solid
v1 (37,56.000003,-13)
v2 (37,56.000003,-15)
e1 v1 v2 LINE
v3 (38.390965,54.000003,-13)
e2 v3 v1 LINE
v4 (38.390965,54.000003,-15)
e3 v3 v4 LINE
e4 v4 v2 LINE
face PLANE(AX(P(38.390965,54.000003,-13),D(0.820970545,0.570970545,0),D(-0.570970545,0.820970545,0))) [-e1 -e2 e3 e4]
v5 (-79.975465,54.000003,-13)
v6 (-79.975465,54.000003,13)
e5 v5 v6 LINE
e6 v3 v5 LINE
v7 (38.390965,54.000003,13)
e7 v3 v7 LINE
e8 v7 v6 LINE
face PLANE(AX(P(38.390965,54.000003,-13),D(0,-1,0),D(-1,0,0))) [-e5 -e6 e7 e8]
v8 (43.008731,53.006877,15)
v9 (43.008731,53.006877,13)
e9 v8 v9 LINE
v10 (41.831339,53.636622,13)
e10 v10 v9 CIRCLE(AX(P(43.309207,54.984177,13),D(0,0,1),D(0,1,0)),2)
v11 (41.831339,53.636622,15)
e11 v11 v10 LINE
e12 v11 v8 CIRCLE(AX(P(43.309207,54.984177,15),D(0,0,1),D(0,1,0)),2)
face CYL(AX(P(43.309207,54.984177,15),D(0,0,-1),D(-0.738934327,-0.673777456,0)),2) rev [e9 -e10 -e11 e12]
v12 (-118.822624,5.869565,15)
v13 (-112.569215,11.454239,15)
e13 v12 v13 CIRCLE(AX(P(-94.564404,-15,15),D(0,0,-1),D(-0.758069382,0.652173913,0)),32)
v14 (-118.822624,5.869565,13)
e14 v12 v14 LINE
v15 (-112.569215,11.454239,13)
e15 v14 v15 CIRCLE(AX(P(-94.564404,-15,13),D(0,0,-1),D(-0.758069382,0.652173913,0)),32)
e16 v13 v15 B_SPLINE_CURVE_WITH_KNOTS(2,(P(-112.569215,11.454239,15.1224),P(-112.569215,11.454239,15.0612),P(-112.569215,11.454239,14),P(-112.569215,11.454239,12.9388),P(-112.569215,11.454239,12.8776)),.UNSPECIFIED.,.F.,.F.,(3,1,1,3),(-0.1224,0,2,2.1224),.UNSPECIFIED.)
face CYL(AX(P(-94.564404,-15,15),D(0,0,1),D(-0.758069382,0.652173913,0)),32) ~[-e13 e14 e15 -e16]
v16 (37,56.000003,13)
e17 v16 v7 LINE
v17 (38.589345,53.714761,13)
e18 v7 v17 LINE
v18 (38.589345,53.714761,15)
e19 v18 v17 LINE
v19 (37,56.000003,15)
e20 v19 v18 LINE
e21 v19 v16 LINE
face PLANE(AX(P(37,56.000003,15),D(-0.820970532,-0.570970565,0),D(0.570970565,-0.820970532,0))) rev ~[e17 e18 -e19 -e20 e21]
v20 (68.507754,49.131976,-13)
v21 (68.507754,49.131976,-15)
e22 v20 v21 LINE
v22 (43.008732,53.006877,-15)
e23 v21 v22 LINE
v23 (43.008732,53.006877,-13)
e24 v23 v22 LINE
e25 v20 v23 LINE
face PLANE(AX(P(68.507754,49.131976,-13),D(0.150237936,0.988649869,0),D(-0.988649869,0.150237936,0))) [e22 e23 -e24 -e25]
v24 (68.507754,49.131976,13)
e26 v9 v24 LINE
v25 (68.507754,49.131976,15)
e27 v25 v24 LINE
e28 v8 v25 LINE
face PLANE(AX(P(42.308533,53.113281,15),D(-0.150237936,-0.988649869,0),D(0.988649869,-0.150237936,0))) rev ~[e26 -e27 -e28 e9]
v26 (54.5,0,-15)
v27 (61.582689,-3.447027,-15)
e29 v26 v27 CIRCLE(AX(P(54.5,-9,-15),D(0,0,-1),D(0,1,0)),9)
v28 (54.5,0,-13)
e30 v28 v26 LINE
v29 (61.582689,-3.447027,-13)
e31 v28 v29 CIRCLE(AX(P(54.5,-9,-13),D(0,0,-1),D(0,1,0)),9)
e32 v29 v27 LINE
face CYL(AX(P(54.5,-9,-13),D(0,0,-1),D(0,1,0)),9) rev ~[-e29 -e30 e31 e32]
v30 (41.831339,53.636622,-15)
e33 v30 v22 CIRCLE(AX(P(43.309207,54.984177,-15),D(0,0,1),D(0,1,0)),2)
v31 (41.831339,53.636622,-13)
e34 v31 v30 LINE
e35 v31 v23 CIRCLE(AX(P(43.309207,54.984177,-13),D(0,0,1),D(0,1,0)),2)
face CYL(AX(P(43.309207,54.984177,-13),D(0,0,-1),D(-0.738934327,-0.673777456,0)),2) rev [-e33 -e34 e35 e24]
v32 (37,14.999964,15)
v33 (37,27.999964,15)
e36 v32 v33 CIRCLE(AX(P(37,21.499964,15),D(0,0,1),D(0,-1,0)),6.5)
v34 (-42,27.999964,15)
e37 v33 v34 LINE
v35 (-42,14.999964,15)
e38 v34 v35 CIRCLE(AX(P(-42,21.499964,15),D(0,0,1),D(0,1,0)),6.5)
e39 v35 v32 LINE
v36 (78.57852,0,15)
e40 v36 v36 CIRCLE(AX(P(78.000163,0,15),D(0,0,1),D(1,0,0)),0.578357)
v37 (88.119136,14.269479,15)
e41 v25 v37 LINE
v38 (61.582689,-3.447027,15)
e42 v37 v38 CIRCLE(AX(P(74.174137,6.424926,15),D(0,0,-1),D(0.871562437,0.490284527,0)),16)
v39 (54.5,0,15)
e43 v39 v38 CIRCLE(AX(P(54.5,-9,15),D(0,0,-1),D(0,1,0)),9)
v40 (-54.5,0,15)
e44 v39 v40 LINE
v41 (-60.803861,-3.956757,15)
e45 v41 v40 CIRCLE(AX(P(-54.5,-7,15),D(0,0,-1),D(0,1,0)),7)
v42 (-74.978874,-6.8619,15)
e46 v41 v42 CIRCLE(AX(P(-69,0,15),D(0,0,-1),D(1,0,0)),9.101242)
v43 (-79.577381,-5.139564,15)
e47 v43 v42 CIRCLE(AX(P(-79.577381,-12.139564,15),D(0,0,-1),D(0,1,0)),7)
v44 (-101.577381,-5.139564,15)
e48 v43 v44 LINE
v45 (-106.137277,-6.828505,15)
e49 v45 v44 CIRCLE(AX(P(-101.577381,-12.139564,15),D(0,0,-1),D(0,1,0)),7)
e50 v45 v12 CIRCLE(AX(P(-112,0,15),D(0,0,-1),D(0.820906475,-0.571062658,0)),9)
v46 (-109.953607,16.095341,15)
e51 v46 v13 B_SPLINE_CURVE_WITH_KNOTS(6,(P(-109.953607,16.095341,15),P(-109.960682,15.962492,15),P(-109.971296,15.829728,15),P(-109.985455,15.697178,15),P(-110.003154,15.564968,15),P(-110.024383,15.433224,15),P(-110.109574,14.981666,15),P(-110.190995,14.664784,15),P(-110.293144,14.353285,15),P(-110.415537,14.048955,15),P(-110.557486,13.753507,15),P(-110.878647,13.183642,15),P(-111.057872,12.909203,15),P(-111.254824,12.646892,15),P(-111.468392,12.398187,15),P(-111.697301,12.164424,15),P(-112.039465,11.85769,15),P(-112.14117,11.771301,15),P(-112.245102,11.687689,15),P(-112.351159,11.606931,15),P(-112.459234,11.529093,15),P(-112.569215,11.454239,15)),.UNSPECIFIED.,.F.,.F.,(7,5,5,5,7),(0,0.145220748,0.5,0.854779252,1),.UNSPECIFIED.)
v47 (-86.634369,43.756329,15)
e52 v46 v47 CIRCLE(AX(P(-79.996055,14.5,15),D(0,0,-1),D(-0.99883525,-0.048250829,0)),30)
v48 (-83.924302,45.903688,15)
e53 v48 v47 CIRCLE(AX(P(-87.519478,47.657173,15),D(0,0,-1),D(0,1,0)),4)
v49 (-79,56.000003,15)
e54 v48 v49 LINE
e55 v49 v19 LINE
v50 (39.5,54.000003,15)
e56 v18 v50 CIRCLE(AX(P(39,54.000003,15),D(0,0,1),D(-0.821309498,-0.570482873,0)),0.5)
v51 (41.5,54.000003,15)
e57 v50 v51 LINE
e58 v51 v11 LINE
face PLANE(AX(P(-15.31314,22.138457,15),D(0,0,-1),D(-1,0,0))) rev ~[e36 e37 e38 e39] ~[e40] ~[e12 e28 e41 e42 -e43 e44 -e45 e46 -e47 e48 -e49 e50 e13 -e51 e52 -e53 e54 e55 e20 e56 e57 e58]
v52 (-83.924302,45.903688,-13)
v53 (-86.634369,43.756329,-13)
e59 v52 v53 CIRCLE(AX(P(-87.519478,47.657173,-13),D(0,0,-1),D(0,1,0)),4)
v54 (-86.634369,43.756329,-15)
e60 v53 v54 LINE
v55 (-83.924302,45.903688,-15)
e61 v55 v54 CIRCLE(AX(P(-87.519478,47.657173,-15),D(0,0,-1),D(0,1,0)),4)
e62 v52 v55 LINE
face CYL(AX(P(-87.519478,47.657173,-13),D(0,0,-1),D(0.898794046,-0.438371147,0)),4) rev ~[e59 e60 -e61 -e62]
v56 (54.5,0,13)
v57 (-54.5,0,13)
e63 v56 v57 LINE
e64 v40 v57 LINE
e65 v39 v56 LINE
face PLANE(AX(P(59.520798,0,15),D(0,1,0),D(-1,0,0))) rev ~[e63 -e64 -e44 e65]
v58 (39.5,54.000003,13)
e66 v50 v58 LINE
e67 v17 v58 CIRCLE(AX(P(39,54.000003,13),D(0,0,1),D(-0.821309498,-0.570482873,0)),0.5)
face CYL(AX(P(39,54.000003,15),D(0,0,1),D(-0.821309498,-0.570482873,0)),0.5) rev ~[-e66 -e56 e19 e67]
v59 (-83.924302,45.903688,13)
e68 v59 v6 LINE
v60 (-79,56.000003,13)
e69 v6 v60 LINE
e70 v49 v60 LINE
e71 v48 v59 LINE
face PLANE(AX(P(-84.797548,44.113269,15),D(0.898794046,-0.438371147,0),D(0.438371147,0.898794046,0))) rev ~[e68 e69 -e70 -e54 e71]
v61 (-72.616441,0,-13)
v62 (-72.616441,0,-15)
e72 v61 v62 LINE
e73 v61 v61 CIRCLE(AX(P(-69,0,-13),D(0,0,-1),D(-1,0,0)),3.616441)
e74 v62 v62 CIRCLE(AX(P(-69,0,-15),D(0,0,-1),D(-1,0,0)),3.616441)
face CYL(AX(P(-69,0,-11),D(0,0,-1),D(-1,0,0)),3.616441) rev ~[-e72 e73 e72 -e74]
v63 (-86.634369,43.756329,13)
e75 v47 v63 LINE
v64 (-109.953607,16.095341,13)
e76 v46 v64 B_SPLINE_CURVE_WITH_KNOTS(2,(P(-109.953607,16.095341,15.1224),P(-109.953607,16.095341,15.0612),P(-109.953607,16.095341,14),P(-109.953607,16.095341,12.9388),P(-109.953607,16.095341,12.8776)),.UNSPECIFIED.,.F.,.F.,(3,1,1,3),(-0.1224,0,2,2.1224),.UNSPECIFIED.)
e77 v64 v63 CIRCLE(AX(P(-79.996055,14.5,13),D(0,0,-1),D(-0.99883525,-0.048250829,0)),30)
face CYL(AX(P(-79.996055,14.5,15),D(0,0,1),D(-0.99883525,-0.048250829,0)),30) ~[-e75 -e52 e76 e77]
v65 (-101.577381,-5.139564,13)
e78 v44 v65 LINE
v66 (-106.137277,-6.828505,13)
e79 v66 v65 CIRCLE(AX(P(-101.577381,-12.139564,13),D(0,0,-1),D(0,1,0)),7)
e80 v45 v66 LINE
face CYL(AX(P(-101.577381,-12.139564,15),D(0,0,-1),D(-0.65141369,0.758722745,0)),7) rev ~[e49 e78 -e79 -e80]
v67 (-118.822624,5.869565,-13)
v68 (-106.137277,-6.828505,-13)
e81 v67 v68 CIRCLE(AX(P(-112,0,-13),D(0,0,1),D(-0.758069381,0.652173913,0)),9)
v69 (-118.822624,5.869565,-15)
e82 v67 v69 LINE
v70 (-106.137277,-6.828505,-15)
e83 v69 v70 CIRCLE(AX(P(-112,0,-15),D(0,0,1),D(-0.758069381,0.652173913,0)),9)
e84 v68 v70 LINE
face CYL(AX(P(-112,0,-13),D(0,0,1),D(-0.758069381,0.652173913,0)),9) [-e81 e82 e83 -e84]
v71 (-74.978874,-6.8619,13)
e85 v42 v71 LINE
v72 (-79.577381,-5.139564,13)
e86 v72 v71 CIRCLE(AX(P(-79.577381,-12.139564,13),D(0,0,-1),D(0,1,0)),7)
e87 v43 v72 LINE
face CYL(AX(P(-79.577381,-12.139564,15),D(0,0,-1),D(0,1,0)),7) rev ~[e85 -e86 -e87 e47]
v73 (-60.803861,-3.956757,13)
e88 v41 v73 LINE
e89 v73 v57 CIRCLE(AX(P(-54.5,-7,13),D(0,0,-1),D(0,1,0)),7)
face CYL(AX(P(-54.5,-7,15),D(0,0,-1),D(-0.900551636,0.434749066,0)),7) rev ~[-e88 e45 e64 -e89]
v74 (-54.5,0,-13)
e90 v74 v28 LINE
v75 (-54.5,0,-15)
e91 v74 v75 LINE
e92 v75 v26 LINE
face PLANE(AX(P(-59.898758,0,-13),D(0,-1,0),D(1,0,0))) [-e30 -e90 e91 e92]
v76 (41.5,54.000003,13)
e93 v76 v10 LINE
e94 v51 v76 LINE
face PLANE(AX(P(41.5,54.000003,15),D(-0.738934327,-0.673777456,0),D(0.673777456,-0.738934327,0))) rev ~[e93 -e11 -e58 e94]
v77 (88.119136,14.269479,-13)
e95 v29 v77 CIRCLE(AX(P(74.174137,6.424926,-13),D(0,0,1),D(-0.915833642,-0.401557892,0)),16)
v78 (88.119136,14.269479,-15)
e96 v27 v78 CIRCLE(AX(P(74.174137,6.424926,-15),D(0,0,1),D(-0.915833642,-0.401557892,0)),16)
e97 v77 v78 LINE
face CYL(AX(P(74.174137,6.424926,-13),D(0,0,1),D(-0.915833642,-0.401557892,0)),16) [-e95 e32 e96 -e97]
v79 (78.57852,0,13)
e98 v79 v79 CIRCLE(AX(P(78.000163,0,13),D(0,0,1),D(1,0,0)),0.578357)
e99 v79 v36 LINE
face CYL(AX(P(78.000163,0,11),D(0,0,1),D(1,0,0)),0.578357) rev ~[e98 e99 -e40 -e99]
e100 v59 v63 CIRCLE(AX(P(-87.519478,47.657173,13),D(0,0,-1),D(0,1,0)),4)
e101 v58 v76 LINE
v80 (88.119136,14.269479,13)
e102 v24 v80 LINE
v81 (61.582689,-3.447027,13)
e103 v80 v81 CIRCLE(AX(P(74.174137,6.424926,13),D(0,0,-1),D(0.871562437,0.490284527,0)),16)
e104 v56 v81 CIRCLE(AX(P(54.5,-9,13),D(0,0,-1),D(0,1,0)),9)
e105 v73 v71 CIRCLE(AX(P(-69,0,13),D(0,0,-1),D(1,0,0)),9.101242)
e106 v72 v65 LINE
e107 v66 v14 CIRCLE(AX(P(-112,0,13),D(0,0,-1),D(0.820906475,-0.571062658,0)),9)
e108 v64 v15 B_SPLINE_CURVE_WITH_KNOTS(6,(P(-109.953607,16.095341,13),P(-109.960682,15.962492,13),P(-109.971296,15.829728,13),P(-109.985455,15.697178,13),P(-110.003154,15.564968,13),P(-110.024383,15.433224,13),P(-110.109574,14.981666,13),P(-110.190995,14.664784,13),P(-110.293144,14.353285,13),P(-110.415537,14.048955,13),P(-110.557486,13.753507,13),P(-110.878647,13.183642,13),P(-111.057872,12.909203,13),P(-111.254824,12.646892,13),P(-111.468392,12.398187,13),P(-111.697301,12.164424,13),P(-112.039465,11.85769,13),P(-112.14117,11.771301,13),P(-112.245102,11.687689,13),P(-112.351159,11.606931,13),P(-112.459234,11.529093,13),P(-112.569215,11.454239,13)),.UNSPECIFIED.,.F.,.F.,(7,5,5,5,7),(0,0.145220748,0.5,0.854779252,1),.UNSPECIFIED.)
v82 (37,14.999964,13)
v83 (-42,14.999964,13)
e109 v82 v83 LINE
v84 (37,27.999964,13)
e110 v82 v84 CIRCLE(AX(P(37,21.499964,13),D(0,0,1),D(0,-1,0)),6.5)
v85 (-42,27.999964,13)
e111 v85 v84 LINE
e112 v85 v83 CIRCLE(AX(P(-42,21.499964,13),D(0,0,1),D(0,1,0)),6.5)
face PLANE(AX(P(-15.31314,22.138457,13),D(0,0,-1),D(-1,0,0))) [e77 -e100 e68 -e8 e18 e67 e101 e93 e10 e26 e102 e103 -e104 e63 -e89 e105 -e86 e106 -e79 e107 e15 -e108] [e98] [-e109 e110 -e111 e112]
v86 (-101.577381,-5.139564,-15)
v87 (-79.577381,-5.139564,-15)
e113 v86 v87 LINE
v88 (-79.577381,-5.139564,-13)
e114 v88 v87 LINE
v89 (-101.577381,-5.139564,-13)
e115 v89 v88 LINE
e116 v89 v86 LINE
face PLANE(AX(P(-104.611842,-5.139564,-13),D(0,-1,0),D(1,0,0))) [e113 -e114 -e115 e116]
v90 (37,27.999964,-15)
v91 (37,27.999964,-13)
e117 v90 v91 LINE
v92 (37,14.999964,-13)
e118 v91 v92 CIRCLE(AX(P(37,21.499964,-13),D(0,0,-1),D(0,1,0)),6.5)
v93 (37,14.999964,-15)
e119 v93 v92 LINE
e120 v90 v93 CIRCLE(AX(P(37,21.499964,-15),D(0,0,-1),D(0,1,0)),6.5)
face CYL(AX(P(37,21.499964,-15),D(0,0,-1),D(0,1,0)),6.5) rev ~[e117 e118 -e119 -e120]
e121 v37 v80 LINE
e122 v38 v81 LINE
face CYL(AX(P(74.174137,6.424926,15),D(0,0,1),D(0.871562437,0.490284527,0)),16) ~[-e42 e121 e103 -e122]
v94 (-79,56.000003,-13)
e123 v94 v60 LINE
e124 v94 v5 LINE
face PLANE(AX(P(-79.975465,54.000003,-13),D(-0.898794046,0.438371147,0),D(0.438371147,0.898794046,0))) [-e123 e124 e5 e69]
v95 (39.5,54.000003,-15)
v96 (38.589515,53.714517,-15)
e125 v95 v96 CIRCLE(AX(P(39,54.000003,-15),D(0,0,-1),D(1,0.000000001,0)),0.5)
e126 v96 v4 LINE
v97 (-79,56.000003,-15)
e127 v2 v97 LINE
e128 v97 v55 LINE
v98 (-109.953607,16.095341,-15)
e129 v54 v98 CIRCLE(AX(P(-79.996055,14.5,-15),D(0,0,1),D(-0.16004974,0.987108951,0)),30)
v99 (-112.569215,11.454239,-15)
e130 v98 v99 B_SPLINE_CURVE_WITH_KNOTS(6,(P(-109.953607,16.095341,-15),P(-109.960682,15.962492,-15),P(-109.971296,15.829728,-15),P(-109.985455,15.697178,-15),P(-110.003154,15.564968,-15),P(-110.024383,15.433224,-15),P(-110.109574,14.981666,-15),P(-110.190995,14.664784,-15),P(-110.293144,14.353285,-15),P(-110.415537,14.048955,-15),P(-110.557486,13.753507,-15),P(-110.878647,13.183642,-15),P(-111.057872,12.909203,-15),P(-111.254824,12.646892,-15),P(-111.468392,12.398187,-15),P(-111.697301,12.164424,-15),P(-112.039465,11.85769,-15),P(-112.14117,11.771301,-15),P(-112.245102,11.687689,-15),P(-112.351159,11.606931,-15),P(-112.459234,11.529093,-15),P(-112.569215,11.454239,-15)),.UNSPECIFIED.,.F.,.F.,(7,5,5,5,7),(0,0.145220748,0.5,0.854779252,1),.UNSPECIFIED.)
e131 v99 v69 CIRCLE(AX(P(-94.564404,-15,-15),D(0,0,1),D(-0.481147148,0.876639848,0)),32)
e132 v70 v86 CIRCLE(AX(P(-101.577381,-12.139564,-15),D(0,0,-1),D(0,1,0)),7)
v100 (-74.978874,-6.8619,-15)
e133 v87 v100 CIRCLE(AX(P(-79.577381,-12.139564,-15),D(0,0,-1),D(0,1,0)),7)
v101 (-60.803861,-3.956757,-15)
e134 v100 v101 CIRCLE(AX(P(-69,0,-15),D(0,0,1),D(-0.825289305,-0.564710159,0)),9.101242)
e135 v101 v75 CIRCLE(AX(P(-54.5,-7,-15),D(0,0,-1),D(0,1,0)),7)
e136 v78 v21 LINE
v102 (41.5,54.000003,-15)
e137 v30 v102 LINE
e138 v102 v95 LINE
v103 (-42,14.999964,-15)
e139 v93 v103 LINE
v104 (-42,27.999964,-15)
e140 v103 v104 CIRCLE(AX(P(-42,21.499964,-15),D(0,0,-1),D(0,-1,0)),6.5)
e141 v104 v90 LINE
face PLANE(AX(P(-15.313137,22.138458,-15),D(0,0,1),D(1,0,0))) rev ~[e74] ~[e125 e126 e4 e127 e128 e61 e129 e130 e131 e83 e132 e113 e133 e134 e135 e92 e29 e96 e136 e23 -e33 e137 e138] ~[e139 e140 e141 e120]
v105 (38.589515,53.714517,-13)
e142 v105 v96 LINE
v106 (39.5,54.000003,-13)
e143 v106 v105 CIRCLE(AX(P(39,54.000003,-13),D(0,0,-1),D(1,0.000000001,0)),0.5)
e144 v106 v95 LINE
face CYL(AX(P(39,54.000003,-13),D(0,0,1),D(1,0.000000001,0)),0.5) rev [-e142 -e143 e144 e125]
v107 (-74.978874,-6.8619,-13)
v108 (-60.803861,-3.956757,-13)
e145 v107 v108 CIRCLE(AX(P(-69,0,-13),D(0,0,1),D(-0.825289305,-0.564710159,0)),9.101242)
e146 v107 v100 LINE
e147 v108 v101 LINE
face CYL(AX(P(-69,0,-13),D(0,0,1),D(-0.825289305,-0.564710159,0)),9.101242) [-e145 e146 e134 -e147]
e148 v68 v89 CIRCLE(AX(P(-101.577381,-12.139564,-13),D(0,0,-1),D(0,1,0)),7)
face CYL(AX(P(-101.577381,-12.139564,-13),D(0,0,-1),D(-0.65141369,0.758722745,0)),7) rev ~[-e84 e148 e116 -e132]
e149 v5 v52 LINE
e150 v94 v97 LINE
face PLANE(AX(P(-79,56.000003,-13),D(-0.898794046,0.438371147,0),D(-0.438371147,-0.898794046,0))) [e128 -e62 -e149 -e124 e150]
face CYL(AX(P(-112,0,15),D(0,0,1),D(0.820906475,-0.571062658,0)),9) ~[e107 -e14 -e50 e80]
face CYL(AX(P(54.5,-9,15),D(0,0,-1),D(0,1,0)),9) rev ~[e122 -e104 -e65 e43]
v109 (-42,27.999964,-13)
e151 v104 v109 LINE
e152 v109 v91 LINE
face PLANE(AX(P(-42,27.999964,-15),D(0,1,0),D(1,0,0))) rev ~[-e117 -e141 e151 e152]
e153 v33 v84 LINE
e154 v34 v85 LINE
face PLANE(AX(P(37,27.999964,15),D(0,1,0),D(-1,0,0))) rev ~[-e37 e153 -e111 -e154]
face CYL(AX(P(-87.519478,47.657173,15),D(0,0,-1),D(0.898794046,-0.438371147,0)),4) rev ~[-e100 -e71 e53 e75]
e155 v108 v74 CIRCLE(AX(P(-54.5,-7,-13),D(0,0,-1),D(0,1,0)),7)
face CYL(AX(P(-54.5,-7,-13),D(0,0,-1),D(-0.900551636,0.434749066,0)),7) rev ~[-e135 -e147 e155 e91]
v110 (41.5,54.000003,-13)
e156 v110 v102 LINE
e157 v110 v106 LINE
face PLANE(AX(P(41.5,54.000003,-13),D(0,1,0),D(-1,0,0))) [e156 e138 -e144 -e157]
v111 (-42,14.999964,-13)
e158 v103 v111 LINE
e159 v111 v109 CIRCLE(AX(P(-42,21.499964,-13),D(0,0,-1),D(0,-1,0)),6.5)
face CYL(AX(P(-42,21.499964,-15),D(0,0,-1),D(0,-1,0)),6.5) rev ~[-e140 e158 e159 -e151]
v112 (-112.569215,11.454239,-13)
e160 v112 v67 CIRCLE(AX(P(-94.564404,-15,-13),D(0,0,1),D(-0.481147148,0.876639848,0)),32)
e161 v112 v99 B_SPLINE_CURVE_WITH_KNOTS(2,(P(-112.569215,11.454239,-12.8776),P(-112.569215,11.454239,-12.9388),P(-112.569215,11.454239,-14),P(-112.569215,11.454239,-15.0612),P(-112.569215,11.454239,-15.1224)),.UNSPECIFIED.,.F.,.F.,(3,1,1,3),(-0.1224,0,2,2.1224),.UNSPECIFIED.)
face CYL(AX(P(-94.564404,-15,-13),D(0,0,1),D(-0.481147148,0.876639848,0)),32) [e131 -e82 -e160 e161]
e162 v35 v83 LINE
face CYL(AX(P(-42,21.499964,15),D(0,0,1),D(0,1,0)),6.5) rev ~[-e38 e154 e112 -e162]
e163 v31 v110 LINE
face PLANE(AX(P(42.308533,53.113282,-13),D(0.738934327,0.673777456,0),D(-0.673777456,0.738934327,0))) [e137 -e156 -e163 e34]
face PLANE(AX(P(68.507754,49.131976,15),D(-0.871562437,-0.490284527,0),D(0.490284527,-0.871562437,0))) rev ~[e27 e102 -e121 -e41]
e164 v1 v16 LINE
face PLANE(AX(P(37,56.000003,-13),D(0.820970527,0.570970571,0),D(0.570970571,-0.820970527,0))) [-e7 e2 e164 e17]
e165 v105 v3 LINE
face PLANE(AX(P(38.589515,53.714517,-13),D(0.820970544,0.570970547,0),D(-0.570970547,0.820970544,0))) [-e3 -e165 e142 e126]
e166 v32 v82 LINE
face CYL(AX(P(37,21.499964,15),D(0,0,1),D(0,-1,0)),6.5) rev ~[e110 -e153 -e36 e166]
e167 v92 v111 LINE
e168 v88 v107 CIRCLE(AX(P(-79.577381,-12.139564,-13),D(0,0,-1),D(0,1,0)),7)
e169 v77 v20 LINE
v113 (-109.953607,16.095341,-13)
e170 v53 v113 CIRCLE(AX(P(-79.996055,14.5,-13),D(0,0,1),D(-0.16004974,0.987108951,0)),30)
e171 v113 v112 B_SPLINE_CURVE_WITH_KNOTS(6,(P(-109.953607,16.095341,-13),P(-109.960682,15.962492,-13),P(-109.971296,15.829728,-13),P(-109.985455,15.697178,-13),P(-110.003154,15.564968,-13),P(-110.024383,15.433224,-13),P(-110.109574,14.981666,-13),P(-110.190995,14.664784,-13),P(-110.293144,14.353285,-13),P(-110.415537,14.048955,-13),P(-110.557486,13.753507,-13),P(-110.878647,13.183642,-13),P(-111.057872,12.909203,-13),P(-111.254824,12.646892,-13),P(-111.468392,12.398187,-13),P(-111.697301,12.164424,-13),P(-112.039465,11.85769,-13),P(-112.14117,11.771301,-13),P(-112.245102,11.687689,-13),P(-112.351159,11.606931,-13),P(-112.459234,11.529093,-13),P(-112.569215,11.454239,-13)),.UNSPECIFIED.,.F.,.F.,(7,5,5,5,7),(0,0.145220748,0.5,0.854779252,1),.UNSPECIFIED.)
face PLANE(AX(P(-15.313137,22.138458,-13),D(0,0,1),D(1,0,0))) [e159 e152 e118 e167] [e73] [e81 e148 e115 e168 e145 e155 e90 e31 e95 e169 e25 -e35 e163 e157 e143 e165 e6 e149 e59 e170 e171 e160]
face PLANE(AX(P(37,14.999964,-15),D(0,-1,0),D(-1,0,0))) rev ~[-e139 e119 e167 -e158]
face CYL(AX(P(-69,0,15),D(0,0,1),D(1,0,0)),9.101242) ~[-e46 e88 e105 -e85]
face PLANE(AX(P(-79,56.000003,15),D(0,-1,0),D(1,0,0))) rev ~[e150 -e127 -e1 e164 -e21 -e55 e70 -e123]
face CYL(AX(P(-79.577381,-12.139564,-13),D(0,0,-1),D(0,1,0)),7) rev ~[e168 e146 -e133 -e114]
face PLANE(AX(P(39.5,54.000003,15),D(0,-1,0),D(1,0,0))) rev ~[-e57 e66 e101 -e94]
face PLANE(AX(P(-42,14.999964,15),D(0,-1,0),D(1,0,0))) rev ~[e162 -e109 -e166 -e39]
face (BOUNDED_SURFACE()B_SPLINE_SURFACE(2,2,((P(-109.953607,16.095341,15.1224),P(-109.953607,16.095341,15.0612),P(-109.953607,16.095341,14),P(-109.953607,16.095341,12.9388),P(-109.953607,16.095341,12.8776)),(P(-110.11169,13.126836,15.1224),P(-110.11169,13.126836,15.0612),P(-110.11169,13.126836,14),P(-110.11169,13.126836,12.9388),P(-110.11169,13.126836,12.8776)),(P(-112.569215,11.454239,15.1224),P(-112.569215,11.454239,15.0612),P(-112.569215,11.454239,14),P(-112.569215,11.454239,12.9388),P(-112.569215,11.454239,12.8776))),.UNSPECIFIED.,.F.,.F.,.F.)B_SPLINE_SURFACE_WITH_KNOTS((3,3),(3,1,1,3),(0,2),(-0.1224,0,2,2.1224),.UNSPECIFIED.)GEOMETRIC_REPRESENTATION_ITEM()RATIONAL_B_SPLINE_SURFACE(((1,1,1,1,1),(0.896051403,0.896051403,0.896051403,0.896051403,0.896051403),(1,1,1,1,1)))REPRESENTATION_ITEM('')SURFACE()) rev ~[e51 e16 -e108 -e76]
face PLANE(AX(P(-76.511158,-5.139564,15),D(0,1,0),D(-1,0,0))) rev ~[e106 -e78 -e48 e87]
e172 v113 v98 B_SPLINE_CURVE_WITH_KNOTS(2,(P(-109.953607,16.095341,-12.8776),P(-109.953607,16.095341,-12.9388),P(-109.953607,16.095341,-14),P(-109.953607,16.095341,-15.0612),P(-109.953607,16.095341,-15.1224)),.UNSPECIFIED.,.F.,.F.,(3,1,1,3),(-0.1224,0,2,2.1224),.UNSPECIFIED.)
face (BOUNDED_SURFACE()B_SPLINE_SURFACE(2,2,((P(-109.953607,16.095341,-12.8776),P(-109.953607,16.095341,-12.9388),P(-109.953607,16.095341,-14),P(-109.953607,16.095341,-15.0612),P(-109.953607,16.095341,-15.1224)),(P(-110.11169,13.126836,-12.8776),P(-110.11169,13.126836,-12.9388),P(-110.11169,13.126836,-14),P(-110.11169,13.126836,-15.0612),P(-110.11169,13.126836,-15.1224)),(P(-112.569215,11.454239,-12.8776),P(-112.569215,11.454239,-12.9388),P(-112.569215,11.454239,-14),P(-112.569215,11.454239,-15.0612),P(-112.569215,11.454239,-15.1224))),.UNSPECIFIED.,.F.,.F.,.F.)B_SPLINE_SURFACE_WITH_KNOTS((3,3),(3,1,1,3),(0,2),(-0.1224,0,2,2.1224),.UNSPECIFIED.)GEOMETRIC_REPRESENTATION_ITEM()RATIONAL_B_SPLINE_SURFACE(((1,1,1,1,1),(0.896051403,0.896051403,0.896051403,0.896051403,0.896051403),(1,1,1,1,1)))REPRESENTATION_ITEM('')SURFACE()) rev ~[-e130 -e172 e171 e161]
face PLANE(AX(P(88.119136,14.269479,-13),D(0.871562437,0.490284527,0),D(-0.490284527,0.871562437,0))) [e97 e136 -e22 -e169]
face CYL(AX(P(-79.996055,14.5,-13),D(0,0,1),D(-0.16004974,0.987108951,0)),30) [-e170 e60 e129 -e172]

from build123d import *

# Parameters (mm, degrees)
BOSS_EXTRUDE1_DEPTH = 2
BOSS_EXTRUDE2_DEPTH = 26
BOSS_EXTRUDE3_START = 2
BOSS_EXTRUDE3_DEPTH = 2
CUT_EXTRUDE1_REACH  = 138.664
CUT_EXTRUDE2_DEPTH  = 137.663822213
HOLE1_D             = 1.156713631
HOLE1_DEPTH         = 2
HOLE2_D             = 7.232882037
HOLE2_DEPTH         = 2
FILLET1_R           = 2
FILLET2_R           = 4
FILLET3_R           = 6
FILLET4_R           = 7
FILLET5_R           = 9


with BuildPart() as part:
    # Sketch1 → Boss-Extrude1 (new body)
    with BuildSketch(Plane.XY.offset(-13)):
        with BuildLine():
            Line((38.589514728, 53.714517423), (38.390964743, 54.000002708))
            Line((38.390964743, 54.000002708), (37, 56.000002696))
            Line((37, 56.000002696), (-79, 56.000002696))
            Line((-79, 56.000002696), (-84.797547627, 44.113268525))
            ThreePointArc((-84.797547627, 44.113268525), (-103.30638504, 33.384611029), (-109.961112948, 13.052475123))
            ThreePointArc((-109.961112948, 13.052475123), (-114.714513302, 9.85906483), (-118.822624433, 5.869565217))
            ThreePointArc((-118.822624433, 5.869565217), (-117.511822587, -7.114760135), (-104.611841725, -5.139563921))
            Line((-104.611841725, -5.139563921), (-76.511157838, -5.139563921))
            ThreePointArc((-76.511157838, -5.139563921), (-66.310042494, -8.694638462), (-59.898757812, 0))
            Line((-59.898757812, 0), (59.520798297, 0))
            ThreePointArc((59.520798297, 0), (81.317661031, -7.891849144), (88.119135563, 14.269478708))
            Line((88.119135563, 14.269478708), (68.507754464, 49.131976199))
            Line((68.507754464, 49.131976199), (42.308532947, 53.113281503))
            Line((42.308532947, 53.113281503), (41.5, 54.000002696))
            Line((41.5, 54.000002696), (39.5, 54.000002696))
            ThreePointArc((39.5, 54.000002696), (39.14959506, 53.522905936), (38.589514728, 53.714517423))
        make_face()
    extrude(amount=-BOSS_EXTRUDE1_DEPTH)

    # Sketch2 → Boss-Extrude2 (add)
    with BuildSketch(Plane.XY.offset(-13)):
        Polygon((37, 56.000002696), (38.390964806, 54.000002752), (-79.97546515, 54.000002752), (-79, 56.000002696), align=None)
    extrude(amount=BOSS_EXTRUDE2_DEPTH)

    # Sketch3 → Boss-Extrude3 (add)
    with BuildSketch(Plane.XY.offset(13).offset(BOSS_EXTRUDE3_START)):
        with BuildLine():
            Line((39.500000002, 54.000002689), (41.499999991, 54.000002689))
            Line((41.499999991, 54.000002689), (42.308532938, 53.113281497))
            Line((42.308532938, 53.113281497), (68.507754455, 49.131976193))
            Line((68.507754455, 49.131976193), (88.119135607, 14.269478608))
            ThreePointArc((88.119135607, 14.269478608), (81.317661026, -7.891849269), (59.520798297, 0))
            Line((59.520798297, 0), (-59.898757812, 0))
            ThreePointArc((-59.898757812, 0), (-66.310042494, -8.694638462), (-76.511157838, -5.139563921))
            Line((-76.511157838, -5.139563921), (-104.611841725, -5.139563921))
            ThreePointArc((-104.611841725, -5.139563921), (-117.511822587, -7.114760135), (-118.822624433, 5.869565217))
            ThreePointArc((-118.822624433, 5.869565217), (-114.714513302, 9.85906483), (-109.961112948, 13.052475123))
            ThreePointArc((-109.961112948, 13.052475123), (-103.30638504, 33.384611029), (-84.797547627, 44.113268525))
            Line((-84.797547627, 44.113268525), (-79, 56.000002696))
            Line((-79, 56.000002696), (37, 56.000002696))
            Line((37, 56.000002696), (38.589345234, 53.714761246))
            ThreePointArc((38.589345234, 53.714761246), (39.149453375, 53.522861518), (39.500000002, 54.000002689))
        make_face()
    extrude(amount=-BOSS_EXTRUDE3_DEPTH)

    # Sketch4 → Cut-Extrude1 (cut, up to next)
    with BuildSketch(Plane(origin=(0, 0, -15), x_dir=(-1, 0, 0), z_dir=(0, 0, -1)), mode=Mode.PRIVATE) as cut_extrude1_sk1:
        with BuildLine():
            Line((-37, 14.999963704), (42, 14.999963704))
            ThreePointArc((42, 14.999963704), (48.5, 21.499963704), (42, 27.999963704))
            Line((42, 27.999963704), (-37, 27.999963704))
            ThreePointArc((-37, 27.999963704), (-43.5, 21.499963704), (-37, 14.999963704))
        make_face()
    cut_extrude1_tool1 = extrude(cut_extrude1_sk1.sketch, amount=-CUT_EXTRUDE1_REACH, mode=Mode.PRIVATE) & part.part
    add(cut_extrude1_tool1.solids().sort_by_distance((-2.5, 21.499964, -15))[0], mode=Mode.SUBTRACT)

    # Sketch5 → Cut-Extrude2 (cut, through all)
    with BuildSketch(Plane.XY.offset(15)):
        with BuildLine():
            Line((37, 27.999963704), (-42, 27.999963704))
            ThreePointArc((-42, 27.999963704), (-48.5, 21.499963704), (-42, 14.999963704))
            Line((-42, 14.999963704), (37, 14.999963704))
            ThreePointArc((37, 14.999963704), (43.5, 21.499963704), (37, 27.999963704))
        make_face()
    extrude(amount=-CUT_EXTRUDE2_DEPTH, mode=Mode.SUBTRACT)

    # Hole1
    with Locations(Plane(origin=(0, 0, 13), x_dir=(-1, 0, 0), z_dir=(0, 0, -1))):
        with Locations((-78.000162744, 0)):
            Hole(HOLE1_D / 2, depth=HOLE1_DEPTH)

    # Hole2
    with Locations(Plane.XY.offset(-13)):
        with Locations((-69, 0)):
            Hole(HOLE2_D / 2, depth=HOLE2_DEPTH)

    # Fillet1
    fillet1_edges = [part.edges().sort_by_distance(p)[0] for p in [
        (42.308532947, 53.113281503, -14),
        (42.308532938, 53.113281497, 14),
    ]]
    fillet(fillet1_edges, radius=FILLET1_R)

    # Fillet2
    fillet2_edges = [part.edges().sort_by_distance(p)[0] for p in [
        (-84.797547627, 44.113268525, -14),
        (-84.797547627, 44.113268525, 14),
    ]]
    fillet(fillet2_edges, radius=FILLET2_R)

    # Fillet3
    fillet3_edges = [part.edges().sort_by_distance(p)[0] for p in [
        (-109.961112948, 13.052475123, -14),
        (-109.961112948, 13.052475123, 14),
    ]]
    fillet(fillet3_edges, radius=FILLET3_R)

    # Fillet4
    fillet4_edges = [part.edges().sort_by_distance(p)[0] for p in [
        (-59.898757812, 0, -14),
        (-76.511157838, -5.139563921, -14),
        (-104.611841725, -5.139563921, -14),
        (-104.611841725, -5.139563921, 14),
        (-76.511157838, -5.139563921, 14),
        (-59.898757812, 0, 14),
    ]]
    fillet(fillet4_edges, radius=FILLET4_R)

    # Fillet5
    fillet5_edges = [part.edges().sort_by_distance(p)[0] for p in [
        (59.520798297, 0, -14),
        (59.520798297, 0, 14),
    ]]
    fillet(fillet5_edges, radius=FILLET5_R)


solid = part.part
